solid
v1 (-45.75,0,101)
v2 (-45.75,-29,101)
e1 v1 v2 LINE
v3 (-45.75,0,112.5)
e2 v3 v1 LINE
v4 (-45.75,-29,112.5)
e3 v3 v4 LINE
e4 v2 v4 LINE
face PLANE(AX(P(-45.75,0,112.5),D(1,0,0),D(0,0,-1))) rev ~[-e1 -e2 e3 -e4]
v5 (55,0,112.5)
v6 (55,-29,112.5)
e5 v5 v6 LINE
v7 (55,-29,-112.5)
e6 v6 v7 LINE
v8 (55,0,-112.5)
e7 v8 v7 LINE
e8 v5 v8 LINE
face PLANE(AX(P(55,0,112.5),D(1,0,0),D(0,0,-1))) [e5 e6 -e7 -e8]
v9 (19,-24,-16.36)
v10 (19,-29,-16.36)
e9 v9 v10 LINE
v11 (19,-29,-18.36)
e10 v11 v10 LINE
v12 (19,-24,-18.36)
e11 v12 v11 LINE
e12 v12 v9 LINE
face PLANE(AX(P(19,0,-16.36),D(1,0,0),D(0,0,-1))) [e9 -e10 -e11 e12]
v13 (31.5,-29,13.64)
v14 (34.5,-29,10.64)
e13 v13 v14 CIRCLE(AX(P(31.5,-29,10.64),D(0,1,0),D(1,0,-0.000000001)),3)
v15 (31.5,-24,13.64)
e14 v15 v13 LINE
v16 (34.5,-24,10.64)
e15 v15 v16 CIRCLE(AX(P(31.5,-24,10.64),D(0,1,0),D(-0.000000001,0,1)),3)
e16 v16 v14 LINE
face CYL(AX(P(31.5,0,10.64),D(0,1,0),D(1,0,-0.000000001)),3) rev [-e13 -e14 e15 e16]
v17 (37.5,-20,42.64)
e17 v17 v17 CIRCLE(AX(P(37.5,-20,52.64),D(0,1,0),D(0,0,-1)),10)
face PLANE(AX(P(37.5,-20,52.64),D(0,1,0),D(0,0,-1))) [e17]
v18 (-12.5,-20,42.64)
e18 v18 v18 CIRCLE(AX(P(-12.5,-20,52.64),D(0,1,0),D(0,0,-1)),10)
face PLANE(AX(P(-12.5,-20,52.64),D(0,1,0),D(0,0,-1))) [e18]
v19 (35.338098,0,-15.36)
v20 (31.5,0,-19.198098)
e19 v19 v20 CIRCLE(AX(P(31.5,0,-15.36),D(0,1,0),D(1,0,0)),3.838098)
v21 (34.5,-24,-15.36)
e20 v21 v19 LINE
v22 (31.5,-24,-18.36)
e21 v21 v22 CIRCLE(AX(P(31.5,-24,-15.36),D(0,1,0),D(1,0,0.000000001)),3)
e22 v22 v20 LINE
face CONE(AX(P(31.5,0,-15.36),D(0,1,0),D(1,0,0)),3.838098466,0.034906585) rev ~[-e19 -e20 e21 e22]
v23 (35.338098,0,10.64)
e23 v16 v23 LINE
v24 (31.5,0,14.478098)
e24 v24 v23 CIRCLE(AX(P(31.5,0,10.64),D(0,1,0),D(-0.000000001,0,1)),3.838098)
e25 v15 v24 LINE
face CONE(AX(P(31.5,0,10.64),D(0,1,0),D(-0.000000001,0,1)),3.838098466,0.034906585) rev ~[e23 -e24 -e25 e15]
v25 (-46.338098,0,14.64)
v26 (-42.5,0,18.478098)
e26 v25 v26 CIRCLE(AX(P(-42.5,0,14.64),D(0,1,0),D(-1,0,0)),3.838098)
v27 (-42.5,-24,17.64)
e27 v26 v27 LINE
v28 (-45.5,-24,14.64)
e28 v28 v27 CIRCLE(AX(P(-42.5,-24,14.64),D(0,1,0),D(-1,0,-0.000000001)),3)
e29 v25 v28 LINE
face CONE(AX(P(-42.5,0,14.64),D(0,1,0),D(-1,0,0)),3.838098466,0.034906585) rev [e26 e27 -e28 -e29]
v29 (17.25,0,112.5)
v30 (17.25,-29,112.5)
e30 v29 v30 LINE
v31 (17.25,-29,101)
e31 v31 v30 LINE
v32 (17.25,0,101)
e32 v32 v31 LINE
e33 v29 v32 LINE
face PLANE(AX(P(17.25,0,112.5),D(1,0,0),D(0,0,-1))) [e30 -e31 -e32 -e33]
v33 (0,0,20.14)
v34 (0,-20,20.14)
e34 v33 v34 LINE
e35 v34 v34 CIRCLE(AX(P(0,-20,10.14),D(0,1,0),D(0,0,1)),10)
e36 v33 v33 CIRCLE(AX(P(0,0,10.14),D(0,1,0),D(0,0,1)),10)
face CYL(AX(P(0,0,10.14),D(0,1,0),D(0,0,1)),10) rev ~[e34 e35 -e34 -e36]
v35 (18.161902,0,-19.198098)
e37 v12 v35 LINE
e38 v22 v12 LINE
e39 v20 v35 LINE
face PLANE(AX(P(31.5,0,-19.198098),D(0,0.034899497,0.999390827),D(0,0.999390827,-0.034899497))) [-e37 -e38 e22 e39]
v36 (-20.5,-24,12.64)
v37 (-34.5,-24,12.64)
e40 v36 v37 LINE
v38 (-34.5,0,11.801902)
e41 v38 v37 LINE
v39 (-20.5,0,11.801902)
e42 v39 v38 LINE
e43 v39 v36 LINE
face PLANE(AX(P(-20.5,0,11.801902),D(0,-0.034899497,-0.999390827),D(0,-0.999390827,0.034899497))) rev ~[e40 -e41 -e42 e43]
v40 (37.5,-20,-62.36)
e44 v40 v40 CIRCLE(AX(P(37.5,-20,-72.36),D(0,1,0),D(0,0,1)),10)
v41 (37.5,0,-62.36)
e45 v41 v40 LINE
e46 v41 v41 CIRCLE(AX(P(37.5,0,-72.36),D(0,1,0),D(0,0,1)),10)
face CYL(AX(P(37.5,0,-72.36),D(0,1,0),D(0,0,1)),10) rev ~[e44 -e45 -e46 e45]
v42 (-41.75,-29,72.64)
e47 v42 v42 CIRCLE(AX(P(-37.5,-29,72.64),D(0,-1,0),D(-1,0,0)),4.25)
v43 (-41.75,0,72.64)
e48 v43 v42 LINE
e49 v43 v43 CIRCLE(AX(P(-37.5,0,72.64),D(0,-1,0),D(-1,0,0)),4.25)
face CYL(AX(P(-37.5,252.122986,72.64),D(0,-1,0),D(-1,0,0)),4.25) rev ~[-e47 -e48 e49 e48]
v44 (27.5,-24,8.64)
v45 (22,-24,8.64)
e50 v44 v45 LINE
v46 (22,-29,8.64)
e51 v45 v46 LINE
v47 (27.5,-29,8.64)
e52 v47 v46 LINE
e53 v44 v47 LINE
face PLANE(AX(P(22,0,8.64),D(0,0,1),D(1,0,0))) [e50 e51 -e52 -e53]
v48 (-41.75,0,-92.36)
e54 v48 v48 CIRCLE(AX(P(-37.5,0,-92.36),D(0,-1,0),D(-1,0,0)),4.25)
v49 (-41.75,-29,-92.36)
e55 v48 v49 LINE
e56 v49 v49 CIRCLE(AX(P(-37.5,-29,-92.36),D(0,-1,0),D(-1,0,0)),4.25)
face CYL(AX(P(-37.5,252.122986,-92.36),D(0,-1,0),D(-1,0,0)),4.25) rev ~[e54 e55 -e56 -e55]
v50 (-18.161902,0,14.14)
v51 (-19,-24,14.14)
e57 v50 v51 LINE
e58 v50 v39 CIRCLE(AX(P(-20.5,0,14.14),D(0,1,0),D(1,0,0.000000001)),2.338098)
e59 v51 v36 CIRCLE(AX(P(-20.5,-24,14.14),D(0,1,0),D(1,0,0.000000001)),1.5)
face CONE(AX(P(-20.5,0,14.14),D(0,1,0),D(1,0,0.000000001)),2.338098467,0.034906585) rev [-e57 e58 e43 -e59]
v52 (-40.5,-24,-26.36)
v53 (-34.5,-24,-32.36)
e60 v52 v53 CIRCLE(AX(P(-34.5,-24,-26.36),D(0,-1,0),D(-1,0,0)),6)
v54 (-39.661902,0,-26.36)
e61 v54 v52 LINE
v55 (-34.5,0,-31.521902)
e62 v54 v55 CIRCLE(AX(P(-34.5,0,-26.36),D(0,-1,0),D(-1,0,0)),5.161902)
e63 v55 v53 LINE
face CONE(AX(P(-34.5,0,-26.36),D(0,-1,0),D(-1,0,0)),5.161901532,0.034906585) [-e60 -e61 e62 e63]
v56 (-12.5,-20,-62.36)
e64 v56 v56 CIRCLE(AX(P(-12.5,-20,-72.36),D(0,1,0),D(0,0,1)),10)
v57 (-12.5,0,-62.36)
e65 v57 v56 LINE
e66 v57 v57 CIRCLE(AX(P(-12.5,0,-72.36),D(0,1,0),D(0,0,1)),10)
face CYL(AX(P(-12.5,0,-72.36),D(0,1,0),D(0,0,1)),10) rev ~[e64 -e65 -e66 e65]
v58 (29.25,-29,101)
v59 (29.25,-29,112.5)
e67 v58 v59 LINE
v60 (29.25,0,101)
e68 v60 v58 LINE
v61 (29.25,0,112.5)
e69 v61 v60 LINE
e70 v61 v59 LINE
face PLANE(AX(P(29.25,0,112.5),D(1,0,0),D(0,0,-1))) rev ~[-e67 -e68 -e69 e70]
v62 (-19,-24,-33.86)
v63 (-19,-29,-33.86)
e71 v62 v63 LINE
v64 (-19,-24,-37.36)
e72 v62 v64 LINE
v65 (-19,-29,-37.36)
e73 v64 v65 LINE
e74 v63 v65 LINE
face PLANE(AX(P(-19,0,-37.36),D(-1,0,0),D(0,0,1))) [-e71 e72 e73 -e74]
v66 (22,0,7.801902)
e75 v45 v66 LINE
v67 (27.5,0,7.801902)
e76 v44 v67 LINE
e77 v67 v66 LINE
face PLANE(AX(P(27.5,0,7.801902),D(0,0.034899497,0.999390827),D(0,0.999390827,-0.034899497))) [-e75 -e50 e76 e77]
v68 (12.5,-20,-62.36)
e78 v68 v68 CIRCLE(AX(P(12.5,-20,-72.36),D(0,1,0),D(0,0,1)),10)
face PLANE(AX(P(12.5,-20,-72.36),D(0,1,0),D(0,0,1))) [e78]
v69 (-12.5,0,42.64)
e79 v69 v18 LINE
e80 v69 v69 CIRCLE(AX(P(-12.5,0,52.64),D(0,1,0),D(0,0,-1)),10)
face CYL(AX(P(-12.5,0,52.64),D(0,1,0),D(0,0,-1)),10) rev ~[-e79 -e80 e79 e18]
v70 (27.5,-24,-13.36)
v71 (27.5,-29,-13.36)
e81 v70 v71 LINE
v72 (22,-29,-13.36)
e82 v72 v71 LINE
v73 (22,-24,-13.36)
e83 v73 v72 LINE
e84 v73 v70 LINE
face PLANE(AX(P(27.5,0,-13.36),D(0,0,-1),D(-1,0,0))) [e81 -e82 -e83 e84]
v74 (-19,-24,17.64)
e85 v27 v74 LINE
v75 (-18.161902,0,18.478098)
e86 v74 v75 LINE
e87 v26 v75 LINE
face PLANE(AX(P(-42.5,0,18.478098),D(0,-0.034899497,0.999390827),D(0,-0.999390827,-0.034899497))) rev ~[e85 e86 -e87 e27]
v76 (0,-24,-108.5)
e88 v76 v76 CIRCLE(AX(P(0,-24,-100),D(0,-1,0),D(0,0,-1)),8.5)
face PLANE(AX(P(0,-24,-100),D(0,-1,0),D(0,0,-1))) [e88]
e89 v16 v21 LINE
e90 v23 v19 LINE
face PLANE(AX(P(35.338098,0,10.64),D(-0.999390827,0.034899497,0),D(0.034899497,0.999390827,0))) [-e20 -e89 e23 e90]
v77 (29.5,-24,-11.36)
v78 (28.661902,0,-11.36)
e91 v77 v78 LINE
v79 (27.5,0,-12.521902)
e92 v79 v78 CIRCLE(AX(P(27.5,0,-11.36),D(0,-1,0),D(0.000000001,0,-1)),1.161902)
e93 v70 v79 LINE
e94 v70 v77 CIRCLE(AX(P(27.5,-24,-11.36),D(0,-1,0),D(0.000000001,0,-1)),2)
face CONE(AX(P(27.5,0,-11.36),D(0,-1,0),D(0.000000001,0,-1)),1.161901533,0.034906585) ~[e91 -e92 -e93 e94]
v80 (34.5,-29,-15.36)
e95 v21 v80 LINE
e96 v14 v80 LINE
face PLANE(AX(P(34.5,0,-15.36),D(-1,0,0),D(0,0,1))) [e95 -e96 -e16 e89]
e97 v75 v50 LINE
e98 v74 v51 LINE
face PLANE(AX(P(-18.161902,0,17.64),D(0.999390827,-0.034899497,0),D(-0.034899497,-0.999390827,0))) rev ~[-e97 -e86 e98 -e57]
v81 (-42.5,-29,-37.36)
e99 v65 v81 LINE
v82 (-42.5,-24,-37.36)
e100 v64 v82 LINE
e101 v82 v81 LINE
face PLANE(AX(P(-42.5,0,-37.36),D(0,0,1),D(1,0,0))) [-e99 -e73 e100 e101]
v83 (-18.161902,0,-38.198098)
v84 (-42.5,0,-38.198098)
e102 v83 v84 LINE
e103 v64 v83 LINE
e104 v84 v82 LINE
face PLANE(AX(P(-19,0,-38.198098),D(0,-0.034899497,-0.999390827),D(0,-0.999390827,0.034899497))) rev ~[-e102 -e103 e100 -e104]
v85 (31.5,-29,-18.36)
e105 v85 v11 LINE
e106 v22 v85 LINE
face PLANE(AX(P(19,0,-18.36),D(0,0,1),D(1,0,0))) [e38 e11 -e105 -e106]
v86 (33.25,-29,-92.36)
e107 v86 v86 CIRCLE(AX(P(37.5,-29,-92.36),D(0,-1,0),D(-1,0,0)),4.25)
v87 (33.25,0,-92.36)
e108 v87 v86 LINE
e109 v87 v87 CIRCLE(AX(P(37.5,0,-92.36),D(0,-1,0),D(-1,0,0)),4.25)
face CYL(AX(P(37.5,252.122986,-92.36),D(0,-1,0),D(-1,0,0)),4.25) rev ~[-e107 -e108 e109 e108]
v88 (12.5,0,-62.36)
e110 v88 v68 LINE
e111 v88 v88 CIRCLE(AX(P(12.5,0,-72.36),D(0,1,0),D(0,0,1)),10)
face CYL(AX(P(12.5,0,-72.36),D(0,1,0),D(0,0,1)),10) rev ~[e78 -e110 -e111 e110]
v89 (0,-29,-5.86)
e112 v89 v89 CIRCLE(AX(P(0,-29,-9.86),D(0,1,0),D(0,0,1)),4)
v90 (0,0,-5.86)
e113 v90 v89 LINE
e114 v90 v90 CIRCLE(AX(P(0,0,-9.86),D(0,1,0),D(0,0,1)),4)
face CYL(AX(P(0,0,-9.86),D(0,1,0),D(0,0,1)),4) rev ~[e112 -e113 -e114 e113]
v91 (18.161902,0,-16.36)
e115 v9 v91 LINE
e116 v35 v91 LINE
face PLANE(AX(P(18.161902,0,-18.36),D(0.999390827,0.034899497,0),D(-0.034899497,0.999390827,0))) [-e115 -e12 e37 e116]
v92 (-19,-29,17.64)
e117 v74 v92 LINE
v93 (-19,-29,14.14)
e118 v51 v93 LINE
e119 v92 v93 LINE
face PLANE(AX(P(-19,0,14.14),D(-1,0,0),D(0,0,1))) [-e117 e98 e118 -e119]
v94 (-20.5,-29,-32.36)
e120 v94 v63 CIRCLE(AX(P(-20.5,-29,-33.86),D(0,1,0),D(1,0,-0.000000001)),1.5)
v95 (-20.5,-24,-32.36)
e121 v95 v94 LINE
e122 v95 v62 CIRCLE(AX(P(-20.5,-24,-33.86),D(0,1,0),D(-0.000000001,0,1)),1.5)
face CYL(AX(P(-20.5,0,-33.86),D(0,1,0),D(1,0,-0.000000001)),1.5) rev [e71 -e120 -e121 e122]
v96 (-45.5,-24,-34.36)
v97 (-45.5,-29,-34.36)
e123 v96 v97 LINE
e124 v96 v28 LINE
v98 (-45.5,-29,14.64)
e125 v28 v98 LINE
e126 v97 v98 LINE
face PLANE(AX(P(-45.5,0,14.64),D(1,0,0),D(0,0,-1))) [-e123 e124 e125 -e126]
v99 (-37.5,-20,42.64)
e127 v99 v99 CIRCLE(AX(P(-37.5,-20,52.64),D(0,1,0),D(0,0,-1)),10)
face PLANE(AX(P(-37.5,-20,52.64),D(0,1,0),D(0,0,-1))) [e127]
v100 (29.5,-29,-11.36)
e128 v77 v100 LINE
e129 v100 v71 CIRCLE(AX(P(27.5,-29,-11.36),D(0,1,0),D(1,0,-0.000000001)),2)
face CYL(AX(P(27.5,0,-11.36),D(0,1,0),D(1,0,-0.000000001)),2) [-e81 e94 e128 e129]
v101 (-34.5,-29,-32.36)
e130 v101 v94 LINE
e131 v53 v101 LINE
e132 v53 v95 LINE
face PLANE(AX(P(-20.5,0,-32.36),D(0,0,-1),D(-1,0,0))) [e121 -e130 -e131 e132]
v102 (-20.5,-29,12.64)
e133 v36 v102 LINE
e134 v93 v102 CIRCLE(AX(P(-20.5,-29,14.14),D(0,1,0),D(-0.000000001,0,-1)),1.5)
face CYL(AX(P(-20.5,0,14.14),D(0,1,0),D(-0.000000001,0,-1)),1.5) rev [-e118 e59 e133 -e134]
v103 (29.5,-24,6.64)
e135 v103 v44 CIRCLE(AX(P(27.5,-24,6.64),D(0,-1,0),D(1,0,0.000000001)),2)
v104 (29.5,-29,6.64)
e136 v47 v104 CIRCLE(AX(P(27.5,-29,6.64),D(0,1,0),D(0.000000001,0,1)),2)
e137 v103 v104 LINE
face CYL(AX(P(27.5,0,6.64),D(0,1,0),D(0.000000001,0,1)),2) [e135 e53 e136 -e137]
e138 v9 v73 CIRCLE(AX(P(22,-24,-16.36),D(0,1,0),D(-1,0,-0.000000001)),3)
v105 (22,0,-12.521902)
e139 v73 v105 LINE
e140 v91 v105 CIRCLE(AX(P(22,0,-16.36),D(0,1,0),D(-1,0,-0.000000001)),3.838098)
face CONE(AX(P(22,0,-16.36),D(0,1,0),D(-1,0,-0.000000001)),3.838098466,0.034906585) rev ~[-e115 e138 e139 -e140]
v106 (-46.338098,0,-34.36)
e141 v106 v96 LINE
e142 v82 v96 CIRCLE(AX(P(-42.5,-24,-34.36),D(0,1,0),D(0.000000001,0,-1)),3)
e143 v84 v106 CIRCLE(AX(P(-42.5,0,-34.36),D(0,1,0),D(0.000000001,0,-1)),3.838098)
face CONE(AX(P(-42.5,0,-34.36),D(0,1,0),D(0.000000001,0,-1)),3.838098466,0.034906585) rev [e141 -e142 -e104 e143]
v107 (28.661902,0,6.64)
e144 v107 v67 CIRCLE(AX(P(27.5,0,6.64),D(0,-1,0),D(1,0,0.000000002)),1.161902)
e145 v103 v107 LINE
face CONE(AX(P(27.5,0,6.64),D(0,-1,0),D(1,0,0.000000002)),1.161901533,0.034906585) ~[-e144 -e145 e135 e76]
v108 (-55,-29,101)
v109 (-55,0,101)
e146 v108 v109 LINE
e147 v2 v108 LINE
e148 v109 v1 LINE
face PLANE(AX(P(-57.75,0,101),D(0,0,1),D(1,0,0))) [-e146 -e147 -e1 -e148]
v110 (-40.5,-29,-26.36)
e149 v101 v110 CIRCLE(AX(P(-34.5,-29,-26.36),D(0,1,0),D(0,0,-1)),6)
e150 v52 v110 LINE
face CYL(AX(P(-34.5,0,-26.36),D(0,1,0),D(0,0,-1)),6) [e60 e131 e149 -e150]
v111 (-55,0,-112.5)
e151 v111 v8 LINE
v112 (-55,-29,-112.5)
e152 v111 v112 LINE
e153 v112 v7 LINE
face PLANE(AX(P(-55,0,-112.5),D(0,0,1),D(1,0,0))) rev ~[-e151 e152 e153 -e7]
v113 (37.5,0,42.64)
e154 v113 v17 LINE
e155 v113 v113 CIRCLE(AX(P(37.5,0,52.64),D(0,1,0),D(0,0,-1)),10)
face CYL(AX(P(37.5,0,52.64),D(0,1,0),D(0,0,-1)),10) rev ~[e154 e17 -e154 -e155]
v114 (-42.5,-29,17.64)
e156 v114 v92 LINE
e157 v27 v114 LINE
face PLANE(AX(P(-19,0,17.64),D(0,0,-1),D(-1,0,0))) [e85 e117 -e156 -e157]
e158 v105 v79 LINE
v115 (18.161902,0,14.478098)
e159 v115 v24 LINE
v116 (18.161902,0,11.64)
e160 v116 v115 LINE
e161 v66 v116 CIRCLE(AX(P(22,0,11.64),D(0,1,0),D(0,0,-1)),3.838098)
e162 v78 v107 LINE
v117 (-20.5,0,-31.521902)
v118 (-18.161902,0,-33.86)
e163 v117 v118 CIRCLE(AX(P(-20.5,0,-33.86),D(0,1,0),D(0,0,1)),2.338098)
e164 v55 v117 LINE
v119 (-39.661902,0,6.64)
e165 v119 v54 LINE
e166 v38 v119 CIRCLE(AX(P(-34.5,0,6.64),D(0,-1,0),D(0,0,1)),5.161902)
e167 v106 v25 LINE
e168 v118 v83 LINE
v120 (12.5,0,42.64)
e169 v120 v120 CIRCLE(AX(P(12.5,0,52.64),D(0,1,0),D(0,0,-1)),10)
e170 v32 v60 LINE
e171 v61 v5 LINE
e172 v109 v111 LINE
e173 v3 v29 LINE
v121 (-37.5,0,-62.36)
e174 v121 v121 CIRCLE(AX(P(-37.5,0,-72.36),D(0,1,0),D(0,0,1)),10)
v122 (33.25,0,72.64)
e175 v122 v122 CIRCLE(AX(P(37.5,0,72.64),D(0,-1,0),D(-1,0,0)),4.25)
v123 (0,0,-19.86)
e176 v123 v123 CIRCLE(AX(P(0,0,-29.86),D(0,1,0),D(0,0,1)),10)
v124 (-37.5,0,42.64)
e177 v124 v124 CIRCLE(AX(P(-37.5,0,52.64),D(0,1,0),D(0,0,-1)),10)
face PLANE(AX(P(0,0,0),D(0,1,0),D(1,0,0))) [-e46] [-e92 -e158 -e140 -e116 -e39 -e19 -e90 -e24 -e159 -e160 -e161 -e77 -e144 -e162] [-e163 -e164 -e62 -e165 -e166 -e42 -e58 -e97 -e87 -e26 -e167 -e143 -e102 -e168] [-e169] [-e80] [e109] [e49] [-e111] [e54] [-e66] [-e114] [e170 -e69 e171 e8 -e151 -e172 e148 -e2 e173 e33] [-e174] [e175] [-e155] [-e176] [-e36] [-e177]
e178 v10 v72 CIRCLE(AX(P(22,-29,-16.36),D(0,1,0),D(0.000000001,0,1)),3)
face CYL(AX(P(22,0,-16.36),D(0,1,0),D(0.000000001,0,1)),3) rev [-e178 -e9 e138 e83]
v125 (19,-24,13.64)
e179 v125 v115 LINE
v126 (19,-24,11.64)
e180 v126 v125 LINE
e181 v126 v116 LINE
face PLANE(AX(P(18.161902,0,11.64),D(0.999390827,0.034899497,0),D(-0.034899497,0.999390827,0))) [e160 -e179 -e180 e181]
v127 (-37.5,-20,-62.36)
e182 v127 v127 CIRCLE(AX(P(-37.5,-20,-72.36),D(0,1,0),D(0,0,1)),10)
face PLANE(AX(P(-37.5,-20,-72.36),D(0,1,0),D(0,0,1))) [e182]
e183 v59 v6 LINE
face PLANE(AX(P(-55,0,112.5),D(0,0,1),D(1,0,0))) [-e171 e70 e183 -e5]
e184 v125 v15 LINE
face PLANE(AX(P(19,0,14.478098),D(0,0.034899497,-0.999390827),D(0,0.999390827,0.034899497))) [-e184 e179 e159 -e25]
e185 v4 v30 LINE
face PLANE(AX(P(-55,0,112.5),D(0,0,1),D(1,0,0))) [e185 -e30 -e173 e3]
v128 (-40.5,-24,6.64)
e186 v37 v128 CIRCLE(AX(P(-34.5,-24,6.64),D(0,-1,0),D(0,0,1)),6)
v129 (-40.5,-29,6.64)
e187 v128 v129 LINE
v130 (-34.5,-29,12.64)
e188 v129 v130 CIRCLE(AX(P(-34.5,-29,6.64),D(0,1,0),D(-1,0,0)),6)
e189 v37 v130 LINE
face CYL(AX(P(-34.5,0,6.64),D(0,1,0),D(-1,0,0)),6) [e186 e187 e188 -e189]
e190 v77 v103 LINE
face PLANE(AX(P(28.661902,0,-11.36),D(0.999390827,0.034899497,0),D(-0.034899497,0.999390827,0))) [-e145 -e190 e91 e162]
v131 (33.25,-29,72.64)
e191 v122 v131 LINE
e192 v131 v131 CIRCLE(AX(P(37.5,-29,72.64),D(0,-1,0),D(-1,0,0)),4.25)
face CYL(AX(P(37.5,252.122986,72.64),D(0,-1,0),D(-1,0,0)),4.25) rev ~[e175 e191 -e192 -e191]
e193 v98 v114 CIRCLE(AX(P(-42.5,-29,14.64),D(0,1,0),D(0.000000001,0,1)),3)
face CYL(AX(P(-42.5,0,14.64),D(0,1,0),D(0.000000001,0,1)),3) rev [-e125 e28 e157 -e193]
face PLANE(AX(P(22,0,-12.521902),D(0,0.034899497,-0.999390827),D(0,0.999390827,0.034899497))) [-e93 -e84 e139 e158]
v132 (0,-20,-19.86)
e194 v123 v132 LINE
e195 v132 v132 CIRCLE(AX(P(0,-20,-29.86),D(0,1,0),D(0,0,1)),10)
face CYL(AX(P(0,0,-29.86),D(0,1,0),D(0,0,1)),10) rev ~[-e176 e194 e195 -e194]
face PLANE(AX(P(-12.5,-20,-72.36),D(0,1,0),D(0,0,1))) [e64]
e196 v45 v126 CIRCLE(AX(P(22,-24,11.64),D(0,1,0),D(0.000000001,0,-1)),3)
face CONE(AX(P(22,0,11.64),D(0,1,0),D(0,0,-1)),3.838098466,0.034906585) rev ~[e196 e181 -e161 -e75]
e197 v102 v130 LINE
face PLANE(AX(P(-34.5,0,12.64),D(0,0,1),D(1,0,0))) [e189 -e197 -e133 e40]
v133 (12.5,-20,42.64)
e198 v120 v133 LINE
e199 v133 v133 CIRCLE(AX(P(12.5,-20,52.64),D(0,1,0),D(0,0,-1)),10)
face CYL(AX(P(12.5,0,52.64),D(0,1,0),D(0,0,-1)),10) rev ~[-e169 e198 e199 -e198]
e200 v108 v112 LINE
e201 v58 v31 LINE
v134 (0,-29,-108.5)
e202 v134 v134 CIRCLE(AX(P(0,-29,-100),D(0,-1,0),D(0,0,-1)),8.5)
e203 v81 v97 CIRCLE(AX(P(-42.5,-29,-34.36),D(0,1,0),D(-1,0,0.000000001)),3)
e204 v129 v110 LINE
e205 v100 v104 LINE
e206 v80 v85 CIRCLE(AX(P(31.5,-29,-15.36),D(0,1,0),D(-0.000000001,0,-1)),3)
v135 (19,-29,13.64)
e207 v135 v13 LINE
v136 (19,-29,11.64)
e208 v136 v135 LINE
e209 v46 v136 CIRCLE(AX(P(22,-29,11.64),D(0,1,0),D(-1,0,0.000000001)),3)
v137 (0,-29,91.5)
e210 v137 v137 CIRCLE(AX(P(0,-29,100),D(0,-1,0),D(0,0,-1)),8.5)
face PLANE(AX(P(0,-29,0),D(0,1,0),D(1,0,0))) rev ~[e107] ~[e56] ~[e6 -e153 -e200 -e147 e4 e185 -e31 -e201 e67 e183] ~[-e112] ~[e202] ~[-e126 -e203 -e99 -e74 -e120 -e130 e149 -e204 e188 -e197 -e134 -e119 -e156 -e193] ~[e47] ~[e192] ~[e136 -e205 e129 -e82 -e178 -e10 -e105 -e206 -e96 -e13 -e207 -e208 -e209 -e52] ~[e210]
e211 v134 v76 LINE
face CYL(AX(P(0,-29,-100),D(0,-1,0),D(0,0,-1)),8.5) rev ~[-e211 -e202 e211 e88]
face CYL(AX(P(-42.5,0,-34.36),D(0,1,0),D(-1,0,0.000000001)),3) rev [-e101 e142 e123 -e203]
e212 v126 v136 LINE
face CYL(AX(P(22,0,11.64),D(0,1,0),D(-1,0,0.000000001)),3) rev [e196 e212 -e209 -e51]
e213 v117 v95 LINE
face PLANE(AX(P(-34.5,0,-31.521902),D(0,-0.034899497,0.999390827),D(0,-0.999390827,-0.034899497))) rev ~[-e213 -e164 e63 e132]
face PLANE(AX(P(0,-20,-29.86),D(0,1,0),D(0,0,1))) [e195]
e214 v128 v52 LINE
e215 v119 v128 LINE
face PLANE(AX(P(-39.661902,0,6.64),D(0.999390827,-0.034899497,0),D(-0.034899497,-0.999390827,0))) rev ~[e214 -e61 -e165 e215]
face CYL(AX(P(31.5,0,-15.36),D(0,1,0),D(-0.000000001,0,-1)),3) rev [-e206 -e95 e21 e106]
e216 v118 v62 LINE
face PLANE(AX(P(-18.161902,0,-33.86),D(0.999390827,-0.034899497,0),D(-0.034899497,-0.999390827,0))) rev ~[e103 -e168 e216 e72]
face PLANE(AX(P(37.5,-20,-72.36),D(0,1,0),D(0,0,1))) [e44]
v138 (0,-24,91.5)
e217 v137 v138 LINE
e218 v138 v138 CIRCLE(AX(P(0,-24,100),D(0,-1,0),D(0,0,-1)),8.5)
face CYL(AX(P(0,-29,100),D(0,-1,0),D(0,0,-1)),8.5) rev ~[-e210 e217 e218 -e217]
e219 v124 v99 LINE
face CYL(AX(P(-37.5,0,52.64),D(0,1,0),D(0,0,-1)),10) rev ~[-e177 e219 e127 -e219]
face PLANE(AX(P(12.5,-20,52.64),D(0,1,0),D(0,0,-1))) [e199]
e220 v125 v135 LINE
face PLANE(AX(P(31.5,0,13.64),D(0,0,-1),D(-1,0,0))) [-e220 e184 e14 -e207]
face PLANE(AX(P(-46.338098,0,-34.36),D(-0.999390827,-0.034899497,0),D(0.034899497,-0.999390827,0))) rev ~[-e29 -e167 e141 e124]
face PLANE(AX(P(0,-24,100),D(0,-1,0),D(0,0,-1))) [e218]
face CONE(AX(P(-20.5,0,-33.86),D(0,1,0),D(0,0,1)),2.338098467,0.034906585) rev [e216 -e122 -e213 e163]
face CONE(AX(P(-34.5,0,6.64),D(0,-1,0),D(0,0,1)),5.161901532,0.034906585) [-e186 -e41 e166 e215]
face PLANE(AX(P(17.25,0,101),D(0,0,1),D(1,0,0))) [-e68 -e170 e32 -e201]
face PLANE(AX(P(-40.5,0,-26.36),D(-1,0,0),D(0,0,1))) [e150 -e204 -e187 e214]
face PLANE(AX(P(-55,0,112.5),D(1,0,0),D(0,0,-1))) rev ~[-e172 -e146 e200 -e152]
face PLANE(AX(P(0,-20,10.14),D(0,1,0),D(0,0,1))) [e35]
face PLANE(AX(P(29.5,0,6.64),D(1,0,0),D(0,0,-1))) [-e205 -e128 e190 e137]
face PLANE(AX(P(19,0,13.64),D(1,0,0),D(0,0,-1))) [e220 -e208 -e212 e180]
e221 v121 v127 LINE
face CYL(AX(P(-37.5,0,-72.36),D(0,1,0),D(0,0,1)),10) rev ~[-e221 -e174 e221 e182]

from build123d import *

# Parameters (mm, degrees)
SKETCH1_W           = 110
SKETCH1_H           = 225
BOSS_EXTRUDE1_DEPTH = 29
CUT_EXTRUDE1_REACH  = 130.539
CUT_EXTRUDE2_REACH  = 130.539
SKETCH4_R           = 8.5
CUT_EXTRUDE3_DEPTH  = 5
SKETCH5_R           = 10
CUT_EXTRUDE4_DEPTH  = 20
CUT_EXTRUDE5_REACH  = 130.539
SKETCH6_W           = 12
SKETCH6_H           = 11.5
M10_TAPPED_HOLE1_D  = 8.5
CUT_EXTRUDE6_REACH  = 130.539
SKETCH10_R          = 4


with BuildPart() as part:
    # Sketch1 → Boss-Extrude1 (new body)
    with BuildSketch(Plane(origin=(0, 0, 0), x_dir=(1, 0, 0), z_dir=(0, 1, 0))):
        Rectangle(SKETCH1_W, SKETCH1_H)
    extrude(amount=-BOSS_EXTRUDE1_DEPTH)

    # Sketch2 → Cut-Extrude1 (cut, up to next)
    with BuildSketch(Plane(origin=(0, 0, 0), x_dir=(1, 0, 0), z_dir=(0, 1, 0)), mode=Mode.PRIVATE) as cut_extrude1_sk1:
        with BuildLine():
            Line((-19, 37.36), (-19, 33.86))
            ThreePointArc((-19, 33.86), (-19.439339828, 32.799339828), (-20.5, 32.36))
            Line((-20.5, 32.36), (-34.5, 32.36))
            ThreePointArc((-34.5, 32.36), (-38.742640687, 30.602640687), (-40.5, 26.36))
            Line((-40.5, 26.36), (-40.5, -6.64))
            ThreePointArc((-40.5, -6.64), (-38.742640687, -10.882640687), (-34.5, -12.64))
            Line((-34.5, -12.64), (-20.5, -12.64))
            ThreePointArc((-20.5, -12.64), (-19.439339828, -13.079339828), (-19, -14.14))
            Line((-19, -14.14), (-19, -17.64))
            Line((-19, -17.64), (-42.5, -17.64))
            ThreePointArc((-42.5, -17.64), (-44.621320344, -16.761320344), (-45.5, -14.64))
            Line((-45.5, -14.64), (-45.5, 34.36))
            ThreePointArc((-45.5, 34.36), (-44.621320344, 36.481320344), (-42.5, 37.36))
            Line((-42.5, 37.36), (-19, 37.36))
        make_face()
    cut_extrude1_tool1 = extrude(cut_extrude1_sk1.sketch, amount=-CUT_EXTRUDE1_REACH, mode=Mode.PRIVATE) & part.part
    add(cut_extrude1_tool1.solids().sort_by_distance((-19.610512, 0, -35.61))[0], mode=Mode.SUBTRACT)

    # Sketch3 → Cut-Extrude2 (cut, up to next)
    with BuildSketch(Plane(origin=(0, 0, 0), x_dir=(1, 0, 0), z_dir=(0, 1, 0)), mode=Mode.PRIVATE) as cut_extrude2_sk1:
        with BuildLine():
            Line((19, 18.36), (31.5, 18.36))
            ThreePointArc((31.5, 18.36), (33.621320344, 17.481320344), (34.5, 15.36))
            Line((34.5, 15.36), (34.5, -10.64))
            ThreePointArc((34.5, -10.64), (33.621320344, -12.761320344), (31.5, -13.64))
            Line((31.5, -13.64), (19, -13.64))
            Line((19, -13.64), (19, -11.64))
            ThreePointArc((19, -11.64), (19.878679656, -9.518679656), (22, -8.64))
            Line((22, -8.64), (27.5, -8.64))
            ThreePointArc((27.5, -8.64), (28.914213562, -8.054213562), (29.5, -6.64))
            Line((29.5, -6.64), (29.5, 11.36))
            ThreePointArc((29.5, 11.36), (28.914213562, 12.774213562), (27.5, 13.36))
            Line((27.5, 13.36), (22, 13.36))
            ThreePointArc((22, 13.36), (19.878679656, 14.238679656), (19, 16.36))
            Line((19, 16.36), (19, 18.36))
        make_face()
    cut_extrude2_tool1 = extrude(cut_extrude2_sk1.sketch, amount=-CUT_EXTRUDE2_REACH, mode=Mode.PRIVATE) & part.part
    add(cut_extrude2_tool1.solids().sort_by_distance((25.25, 0, -18.004437))[0], mode=Mode.SUBTRACT)

    # Sketch4 → Cut-Extrude3 (cut)
    with BuildSketch(Plane.XZ.offset(29)):
        with Locations(Location((0, 100, 0), (0, 0, 270))):
            Circle(SKETCH4_R)
        with Locations(Location((0, -100, 0), (0, 0, 270))):
            Circle(SKETCH4_R)
    extrude(amount=-CUT_EXTRUDE3_DEPTH, mode=Mode.SUBTRACT)

    # Sketch5 → Cut-Extrude4 (cut)
    with BuildSketch(Plane(origin=(0, 0, 0), x_dir=(1, 0, 0), z_dir=(0, 1, 0))):
        with Locations(Location((-37.5, 72.36, 0), (0, 0, 270))):
            Circle(SKETCH5_R)
        with Locations(Location((-12.5, 72.36, 0), (0, 0, 270))):
            Circle(SKETCH5_R)
        with Locations(Location((12.5, 72.36, 0), (0, 0, 270))):
            Circle(SKETCH5_R)
        with Locations(Location((37.5, 72.36, 0), (0, 0, 270))):
            Circle(SKETCH5_R)
        with Locations(Location((37.5, -52.64, 0), (0, 0, 90))):
            Circle(SKETCH5_R)
        with Locations(Location((12.5, -52.64, 0), (0, 0, 90))):
            Circle(SKETCH5_R)
        with Locations(Location((-12.5, -52.64, 0), (0, 0, 90))):
            Circle(SKETCH5_R)
        with Locations(Location((-37.5, -52.64, 0), (0, 0, 90))):
            Circle(SKETCH5_R)
        with Locations(Location((0, 29.86, 0), (0, 0, 270))):
            Circle(SKETCH5_R)
        with Locations(Location((0, -10.14, 0), (0, 0, 270))):
            Circle(SKETCH5_R)
    extrude(amount=-CUT_EXTRUDE4_DEPTH, mode=Mode.SUBTRACT)

    # Sketch6 → Cut-Extrude5 (cut, up to next)
    with BuildSketch(Plane(origin=(0, 0, 0), x_dir=(1, 0, 0), z_dir=(0, 1, 0)), mode=Mode.PRIVATE) as cut_extrude5_sk1:
        with Locations((23.25, -106.75)):
            Rectangle(SKETCH6_W, SKETCH6_H)
    cut_extrude5_tool1 = extrude(cut_extrude5_sk1.sketch, amount=-CUT_EXTRUDE5_REACH, mode=Mode.PRIVATE) & part.part
    # Sketch6 → Cut-Extrude5 (cut, up to next)
    with BuildSketch(Plane(origin=(0, 0, 0), x_dir=(1, 0, 0), z_dir=(0, 1, 0)), mode=Mode.PRIVATE) as cut_extrude5_sk2:
        with Locations((-51.75, -106.75)):
            Rectangle(SKETCH6_W, SKETCH6_H)
    cut_extrude5_tool2 = extrude(cut_extrude5_sk2.sketch, amount=-CUT_EXTRUDE5_REACH, mode=Mode.PRIVATE) & part.part
    add(cut_extrude5_tool1.solids().sort_by_distance((23.25, 0, 106.75))[0], mode=Mode.SUBTRACT)
    add(cut_extrude5_tool2.solids().sort_by_distance((-51.75, 0, 106.75))[0], mode=Mode.SUBTRACT)

    # M10 Tapped Hole1 (through all)
    with Locations(Plane(origin=(0, 0, 0), x_dir=(1, 0, 0), z_dir=(0, 1, 0))):
        with Locations((-37.5, -72.64), (37.5, -72.64), (37.5, 92.36), (-37.5, 92.36)):
            Hole(M10_TAPPED_HOLE1_D / 2)

    # Sketch10 → Cut-Extrude6 (cut, up to next)
    with BuildSketch(Plane(origin=(0, 0, 0), x_dir=(1, 0, 0), z_dir=(0, 1, 0)), mode=Mode.PRIVATE) as cut_extrude6_sk1:
        with Locations(Location((0, 9.86, 0), (0, 0, 270))):
            Circle(SKETCH10_R)
    cut_extrude6_tool1 = extrude(cut_extrude6_sk1.sketch, amount=-CUT_EXTRUDE6_REACH, mode=Mode.PRIVATE) & part.part
    add(cut_extrude6_tool1.solids().sort_by_distance((0, 0, -9.86))[0], mode=Mode.SUBTRACT)

    # Cut-Sweep1: sweep along a path in Sketch12
    with BuildLine(Plane(origin=(0, 0, 0), x_dir=(1, 0, 0), z_dir=(0, 1, 0))) as cut_sweep1_path:
        Line((-19, 33.86), (-19, 37.36))
        Line((-19, 37.36), (-42.5, 37.36))
        ThreePointArc((-42.5, 37.36), (-44.621320344, 36.481320344), (-45.5, 34.36))
        Line((-45.5, 34.36), (-45.5, -14.64))
        ThreePointArc((-45.5, -14.64), (-44.621320344, -16.761320344), (-42.5, -17.64))
        Line((-42.5, -17.64), (-19, -17.64))
        Line((-19, -17.64), (-19, -14.14))
        ThreePointArc((-19, -14.14), (-19.439339828, -13.079339828), (-20.5, -12.64))
        Line((-20.5, -12.64), (-34.5, -12.64))
        ThreePointArc((-34.5, -12.64), (-38.742640687, -10.882640687), (-40.5, -6.64))
        Line((-40.5, -6.64), (-40.5, 26.36))
        ThreePointArc((-40.5, 26.36), (-38.742640687, 30.602640687), (-34.5, 32.36))
        Line((-34.5, 32.36), (-20.5, 32.36))
        ThreePointArc((-20.5, 32.36), (-19.439339828, 32.799339828), (-19, 33.86))
    # Sketch11 → Cut-Sweep1 (sweep, cut)
    with BuildSketch(Plane.XY):
        Polygon((-45.5, -24), (-45.5, 0), (-46.338098468, 0), align=None)
    sweep(path=cut_sweep1_path.line, transition=Transition.RIGHT, mode=Mode.SUBTRACT)

    # Cut-Sweep2: sweep along a path in Sketch14
    with BuildLine(Plane(origin=(0, 0, 0), x_dir=(1, 0, 0), z_dir=(0, 1, 0))) as cut_sweep2_path:
        Line((19, -11.64), (19, -13.64))
        Line((19, -13.64), (31.5, -13.64))
        ThreePointArc((31.5, -13.64), (33.621320344, -12.761320344), (34.5, -10.64))
        Line((34.5, -10.64), (34.5, 15.36))
        ThreePointArc((34.5, 15.36), (33.621320344, 17.481320344), (31.5, 18.36))
        Line((31.5, 18.36), (19, 18.36))
        Line((19, 18.36), (19, 16.36))
        ThreePointArc((19, 16.36), (19.878679656, 14.238679656), (22, 13.36))
        Line((22, 13.36), (27.5, 13.36))
        ThreePointArc((27.5, 13.36), (28.914213562, 12.774213562), (29.5, 11.36))
        Line((29.5, 11.36), (29.5, -6.64))
        ThreePointArc((29.5, -6.64), (28.914213562, -8.054213562), (27.5, -8.64))
        Line((27.5, -8.64), (22, -8.64))
        ThreePointArc((22, -8.64), (19.878679656, -9.518679656), (19, -11.64))
    # Sketch13 → Cut-Sweep2 (sweep, cut)
    with BuildSketch(Plane.XY):
        Polygon((34.5, -24), (34.5, 0), (35.338098468, 0), align=None)
    sweep(path=cut_sweep2_path.line, transition=Transition.RIGHT, mode=Mode.SUBTRACT)


solid = part.part
